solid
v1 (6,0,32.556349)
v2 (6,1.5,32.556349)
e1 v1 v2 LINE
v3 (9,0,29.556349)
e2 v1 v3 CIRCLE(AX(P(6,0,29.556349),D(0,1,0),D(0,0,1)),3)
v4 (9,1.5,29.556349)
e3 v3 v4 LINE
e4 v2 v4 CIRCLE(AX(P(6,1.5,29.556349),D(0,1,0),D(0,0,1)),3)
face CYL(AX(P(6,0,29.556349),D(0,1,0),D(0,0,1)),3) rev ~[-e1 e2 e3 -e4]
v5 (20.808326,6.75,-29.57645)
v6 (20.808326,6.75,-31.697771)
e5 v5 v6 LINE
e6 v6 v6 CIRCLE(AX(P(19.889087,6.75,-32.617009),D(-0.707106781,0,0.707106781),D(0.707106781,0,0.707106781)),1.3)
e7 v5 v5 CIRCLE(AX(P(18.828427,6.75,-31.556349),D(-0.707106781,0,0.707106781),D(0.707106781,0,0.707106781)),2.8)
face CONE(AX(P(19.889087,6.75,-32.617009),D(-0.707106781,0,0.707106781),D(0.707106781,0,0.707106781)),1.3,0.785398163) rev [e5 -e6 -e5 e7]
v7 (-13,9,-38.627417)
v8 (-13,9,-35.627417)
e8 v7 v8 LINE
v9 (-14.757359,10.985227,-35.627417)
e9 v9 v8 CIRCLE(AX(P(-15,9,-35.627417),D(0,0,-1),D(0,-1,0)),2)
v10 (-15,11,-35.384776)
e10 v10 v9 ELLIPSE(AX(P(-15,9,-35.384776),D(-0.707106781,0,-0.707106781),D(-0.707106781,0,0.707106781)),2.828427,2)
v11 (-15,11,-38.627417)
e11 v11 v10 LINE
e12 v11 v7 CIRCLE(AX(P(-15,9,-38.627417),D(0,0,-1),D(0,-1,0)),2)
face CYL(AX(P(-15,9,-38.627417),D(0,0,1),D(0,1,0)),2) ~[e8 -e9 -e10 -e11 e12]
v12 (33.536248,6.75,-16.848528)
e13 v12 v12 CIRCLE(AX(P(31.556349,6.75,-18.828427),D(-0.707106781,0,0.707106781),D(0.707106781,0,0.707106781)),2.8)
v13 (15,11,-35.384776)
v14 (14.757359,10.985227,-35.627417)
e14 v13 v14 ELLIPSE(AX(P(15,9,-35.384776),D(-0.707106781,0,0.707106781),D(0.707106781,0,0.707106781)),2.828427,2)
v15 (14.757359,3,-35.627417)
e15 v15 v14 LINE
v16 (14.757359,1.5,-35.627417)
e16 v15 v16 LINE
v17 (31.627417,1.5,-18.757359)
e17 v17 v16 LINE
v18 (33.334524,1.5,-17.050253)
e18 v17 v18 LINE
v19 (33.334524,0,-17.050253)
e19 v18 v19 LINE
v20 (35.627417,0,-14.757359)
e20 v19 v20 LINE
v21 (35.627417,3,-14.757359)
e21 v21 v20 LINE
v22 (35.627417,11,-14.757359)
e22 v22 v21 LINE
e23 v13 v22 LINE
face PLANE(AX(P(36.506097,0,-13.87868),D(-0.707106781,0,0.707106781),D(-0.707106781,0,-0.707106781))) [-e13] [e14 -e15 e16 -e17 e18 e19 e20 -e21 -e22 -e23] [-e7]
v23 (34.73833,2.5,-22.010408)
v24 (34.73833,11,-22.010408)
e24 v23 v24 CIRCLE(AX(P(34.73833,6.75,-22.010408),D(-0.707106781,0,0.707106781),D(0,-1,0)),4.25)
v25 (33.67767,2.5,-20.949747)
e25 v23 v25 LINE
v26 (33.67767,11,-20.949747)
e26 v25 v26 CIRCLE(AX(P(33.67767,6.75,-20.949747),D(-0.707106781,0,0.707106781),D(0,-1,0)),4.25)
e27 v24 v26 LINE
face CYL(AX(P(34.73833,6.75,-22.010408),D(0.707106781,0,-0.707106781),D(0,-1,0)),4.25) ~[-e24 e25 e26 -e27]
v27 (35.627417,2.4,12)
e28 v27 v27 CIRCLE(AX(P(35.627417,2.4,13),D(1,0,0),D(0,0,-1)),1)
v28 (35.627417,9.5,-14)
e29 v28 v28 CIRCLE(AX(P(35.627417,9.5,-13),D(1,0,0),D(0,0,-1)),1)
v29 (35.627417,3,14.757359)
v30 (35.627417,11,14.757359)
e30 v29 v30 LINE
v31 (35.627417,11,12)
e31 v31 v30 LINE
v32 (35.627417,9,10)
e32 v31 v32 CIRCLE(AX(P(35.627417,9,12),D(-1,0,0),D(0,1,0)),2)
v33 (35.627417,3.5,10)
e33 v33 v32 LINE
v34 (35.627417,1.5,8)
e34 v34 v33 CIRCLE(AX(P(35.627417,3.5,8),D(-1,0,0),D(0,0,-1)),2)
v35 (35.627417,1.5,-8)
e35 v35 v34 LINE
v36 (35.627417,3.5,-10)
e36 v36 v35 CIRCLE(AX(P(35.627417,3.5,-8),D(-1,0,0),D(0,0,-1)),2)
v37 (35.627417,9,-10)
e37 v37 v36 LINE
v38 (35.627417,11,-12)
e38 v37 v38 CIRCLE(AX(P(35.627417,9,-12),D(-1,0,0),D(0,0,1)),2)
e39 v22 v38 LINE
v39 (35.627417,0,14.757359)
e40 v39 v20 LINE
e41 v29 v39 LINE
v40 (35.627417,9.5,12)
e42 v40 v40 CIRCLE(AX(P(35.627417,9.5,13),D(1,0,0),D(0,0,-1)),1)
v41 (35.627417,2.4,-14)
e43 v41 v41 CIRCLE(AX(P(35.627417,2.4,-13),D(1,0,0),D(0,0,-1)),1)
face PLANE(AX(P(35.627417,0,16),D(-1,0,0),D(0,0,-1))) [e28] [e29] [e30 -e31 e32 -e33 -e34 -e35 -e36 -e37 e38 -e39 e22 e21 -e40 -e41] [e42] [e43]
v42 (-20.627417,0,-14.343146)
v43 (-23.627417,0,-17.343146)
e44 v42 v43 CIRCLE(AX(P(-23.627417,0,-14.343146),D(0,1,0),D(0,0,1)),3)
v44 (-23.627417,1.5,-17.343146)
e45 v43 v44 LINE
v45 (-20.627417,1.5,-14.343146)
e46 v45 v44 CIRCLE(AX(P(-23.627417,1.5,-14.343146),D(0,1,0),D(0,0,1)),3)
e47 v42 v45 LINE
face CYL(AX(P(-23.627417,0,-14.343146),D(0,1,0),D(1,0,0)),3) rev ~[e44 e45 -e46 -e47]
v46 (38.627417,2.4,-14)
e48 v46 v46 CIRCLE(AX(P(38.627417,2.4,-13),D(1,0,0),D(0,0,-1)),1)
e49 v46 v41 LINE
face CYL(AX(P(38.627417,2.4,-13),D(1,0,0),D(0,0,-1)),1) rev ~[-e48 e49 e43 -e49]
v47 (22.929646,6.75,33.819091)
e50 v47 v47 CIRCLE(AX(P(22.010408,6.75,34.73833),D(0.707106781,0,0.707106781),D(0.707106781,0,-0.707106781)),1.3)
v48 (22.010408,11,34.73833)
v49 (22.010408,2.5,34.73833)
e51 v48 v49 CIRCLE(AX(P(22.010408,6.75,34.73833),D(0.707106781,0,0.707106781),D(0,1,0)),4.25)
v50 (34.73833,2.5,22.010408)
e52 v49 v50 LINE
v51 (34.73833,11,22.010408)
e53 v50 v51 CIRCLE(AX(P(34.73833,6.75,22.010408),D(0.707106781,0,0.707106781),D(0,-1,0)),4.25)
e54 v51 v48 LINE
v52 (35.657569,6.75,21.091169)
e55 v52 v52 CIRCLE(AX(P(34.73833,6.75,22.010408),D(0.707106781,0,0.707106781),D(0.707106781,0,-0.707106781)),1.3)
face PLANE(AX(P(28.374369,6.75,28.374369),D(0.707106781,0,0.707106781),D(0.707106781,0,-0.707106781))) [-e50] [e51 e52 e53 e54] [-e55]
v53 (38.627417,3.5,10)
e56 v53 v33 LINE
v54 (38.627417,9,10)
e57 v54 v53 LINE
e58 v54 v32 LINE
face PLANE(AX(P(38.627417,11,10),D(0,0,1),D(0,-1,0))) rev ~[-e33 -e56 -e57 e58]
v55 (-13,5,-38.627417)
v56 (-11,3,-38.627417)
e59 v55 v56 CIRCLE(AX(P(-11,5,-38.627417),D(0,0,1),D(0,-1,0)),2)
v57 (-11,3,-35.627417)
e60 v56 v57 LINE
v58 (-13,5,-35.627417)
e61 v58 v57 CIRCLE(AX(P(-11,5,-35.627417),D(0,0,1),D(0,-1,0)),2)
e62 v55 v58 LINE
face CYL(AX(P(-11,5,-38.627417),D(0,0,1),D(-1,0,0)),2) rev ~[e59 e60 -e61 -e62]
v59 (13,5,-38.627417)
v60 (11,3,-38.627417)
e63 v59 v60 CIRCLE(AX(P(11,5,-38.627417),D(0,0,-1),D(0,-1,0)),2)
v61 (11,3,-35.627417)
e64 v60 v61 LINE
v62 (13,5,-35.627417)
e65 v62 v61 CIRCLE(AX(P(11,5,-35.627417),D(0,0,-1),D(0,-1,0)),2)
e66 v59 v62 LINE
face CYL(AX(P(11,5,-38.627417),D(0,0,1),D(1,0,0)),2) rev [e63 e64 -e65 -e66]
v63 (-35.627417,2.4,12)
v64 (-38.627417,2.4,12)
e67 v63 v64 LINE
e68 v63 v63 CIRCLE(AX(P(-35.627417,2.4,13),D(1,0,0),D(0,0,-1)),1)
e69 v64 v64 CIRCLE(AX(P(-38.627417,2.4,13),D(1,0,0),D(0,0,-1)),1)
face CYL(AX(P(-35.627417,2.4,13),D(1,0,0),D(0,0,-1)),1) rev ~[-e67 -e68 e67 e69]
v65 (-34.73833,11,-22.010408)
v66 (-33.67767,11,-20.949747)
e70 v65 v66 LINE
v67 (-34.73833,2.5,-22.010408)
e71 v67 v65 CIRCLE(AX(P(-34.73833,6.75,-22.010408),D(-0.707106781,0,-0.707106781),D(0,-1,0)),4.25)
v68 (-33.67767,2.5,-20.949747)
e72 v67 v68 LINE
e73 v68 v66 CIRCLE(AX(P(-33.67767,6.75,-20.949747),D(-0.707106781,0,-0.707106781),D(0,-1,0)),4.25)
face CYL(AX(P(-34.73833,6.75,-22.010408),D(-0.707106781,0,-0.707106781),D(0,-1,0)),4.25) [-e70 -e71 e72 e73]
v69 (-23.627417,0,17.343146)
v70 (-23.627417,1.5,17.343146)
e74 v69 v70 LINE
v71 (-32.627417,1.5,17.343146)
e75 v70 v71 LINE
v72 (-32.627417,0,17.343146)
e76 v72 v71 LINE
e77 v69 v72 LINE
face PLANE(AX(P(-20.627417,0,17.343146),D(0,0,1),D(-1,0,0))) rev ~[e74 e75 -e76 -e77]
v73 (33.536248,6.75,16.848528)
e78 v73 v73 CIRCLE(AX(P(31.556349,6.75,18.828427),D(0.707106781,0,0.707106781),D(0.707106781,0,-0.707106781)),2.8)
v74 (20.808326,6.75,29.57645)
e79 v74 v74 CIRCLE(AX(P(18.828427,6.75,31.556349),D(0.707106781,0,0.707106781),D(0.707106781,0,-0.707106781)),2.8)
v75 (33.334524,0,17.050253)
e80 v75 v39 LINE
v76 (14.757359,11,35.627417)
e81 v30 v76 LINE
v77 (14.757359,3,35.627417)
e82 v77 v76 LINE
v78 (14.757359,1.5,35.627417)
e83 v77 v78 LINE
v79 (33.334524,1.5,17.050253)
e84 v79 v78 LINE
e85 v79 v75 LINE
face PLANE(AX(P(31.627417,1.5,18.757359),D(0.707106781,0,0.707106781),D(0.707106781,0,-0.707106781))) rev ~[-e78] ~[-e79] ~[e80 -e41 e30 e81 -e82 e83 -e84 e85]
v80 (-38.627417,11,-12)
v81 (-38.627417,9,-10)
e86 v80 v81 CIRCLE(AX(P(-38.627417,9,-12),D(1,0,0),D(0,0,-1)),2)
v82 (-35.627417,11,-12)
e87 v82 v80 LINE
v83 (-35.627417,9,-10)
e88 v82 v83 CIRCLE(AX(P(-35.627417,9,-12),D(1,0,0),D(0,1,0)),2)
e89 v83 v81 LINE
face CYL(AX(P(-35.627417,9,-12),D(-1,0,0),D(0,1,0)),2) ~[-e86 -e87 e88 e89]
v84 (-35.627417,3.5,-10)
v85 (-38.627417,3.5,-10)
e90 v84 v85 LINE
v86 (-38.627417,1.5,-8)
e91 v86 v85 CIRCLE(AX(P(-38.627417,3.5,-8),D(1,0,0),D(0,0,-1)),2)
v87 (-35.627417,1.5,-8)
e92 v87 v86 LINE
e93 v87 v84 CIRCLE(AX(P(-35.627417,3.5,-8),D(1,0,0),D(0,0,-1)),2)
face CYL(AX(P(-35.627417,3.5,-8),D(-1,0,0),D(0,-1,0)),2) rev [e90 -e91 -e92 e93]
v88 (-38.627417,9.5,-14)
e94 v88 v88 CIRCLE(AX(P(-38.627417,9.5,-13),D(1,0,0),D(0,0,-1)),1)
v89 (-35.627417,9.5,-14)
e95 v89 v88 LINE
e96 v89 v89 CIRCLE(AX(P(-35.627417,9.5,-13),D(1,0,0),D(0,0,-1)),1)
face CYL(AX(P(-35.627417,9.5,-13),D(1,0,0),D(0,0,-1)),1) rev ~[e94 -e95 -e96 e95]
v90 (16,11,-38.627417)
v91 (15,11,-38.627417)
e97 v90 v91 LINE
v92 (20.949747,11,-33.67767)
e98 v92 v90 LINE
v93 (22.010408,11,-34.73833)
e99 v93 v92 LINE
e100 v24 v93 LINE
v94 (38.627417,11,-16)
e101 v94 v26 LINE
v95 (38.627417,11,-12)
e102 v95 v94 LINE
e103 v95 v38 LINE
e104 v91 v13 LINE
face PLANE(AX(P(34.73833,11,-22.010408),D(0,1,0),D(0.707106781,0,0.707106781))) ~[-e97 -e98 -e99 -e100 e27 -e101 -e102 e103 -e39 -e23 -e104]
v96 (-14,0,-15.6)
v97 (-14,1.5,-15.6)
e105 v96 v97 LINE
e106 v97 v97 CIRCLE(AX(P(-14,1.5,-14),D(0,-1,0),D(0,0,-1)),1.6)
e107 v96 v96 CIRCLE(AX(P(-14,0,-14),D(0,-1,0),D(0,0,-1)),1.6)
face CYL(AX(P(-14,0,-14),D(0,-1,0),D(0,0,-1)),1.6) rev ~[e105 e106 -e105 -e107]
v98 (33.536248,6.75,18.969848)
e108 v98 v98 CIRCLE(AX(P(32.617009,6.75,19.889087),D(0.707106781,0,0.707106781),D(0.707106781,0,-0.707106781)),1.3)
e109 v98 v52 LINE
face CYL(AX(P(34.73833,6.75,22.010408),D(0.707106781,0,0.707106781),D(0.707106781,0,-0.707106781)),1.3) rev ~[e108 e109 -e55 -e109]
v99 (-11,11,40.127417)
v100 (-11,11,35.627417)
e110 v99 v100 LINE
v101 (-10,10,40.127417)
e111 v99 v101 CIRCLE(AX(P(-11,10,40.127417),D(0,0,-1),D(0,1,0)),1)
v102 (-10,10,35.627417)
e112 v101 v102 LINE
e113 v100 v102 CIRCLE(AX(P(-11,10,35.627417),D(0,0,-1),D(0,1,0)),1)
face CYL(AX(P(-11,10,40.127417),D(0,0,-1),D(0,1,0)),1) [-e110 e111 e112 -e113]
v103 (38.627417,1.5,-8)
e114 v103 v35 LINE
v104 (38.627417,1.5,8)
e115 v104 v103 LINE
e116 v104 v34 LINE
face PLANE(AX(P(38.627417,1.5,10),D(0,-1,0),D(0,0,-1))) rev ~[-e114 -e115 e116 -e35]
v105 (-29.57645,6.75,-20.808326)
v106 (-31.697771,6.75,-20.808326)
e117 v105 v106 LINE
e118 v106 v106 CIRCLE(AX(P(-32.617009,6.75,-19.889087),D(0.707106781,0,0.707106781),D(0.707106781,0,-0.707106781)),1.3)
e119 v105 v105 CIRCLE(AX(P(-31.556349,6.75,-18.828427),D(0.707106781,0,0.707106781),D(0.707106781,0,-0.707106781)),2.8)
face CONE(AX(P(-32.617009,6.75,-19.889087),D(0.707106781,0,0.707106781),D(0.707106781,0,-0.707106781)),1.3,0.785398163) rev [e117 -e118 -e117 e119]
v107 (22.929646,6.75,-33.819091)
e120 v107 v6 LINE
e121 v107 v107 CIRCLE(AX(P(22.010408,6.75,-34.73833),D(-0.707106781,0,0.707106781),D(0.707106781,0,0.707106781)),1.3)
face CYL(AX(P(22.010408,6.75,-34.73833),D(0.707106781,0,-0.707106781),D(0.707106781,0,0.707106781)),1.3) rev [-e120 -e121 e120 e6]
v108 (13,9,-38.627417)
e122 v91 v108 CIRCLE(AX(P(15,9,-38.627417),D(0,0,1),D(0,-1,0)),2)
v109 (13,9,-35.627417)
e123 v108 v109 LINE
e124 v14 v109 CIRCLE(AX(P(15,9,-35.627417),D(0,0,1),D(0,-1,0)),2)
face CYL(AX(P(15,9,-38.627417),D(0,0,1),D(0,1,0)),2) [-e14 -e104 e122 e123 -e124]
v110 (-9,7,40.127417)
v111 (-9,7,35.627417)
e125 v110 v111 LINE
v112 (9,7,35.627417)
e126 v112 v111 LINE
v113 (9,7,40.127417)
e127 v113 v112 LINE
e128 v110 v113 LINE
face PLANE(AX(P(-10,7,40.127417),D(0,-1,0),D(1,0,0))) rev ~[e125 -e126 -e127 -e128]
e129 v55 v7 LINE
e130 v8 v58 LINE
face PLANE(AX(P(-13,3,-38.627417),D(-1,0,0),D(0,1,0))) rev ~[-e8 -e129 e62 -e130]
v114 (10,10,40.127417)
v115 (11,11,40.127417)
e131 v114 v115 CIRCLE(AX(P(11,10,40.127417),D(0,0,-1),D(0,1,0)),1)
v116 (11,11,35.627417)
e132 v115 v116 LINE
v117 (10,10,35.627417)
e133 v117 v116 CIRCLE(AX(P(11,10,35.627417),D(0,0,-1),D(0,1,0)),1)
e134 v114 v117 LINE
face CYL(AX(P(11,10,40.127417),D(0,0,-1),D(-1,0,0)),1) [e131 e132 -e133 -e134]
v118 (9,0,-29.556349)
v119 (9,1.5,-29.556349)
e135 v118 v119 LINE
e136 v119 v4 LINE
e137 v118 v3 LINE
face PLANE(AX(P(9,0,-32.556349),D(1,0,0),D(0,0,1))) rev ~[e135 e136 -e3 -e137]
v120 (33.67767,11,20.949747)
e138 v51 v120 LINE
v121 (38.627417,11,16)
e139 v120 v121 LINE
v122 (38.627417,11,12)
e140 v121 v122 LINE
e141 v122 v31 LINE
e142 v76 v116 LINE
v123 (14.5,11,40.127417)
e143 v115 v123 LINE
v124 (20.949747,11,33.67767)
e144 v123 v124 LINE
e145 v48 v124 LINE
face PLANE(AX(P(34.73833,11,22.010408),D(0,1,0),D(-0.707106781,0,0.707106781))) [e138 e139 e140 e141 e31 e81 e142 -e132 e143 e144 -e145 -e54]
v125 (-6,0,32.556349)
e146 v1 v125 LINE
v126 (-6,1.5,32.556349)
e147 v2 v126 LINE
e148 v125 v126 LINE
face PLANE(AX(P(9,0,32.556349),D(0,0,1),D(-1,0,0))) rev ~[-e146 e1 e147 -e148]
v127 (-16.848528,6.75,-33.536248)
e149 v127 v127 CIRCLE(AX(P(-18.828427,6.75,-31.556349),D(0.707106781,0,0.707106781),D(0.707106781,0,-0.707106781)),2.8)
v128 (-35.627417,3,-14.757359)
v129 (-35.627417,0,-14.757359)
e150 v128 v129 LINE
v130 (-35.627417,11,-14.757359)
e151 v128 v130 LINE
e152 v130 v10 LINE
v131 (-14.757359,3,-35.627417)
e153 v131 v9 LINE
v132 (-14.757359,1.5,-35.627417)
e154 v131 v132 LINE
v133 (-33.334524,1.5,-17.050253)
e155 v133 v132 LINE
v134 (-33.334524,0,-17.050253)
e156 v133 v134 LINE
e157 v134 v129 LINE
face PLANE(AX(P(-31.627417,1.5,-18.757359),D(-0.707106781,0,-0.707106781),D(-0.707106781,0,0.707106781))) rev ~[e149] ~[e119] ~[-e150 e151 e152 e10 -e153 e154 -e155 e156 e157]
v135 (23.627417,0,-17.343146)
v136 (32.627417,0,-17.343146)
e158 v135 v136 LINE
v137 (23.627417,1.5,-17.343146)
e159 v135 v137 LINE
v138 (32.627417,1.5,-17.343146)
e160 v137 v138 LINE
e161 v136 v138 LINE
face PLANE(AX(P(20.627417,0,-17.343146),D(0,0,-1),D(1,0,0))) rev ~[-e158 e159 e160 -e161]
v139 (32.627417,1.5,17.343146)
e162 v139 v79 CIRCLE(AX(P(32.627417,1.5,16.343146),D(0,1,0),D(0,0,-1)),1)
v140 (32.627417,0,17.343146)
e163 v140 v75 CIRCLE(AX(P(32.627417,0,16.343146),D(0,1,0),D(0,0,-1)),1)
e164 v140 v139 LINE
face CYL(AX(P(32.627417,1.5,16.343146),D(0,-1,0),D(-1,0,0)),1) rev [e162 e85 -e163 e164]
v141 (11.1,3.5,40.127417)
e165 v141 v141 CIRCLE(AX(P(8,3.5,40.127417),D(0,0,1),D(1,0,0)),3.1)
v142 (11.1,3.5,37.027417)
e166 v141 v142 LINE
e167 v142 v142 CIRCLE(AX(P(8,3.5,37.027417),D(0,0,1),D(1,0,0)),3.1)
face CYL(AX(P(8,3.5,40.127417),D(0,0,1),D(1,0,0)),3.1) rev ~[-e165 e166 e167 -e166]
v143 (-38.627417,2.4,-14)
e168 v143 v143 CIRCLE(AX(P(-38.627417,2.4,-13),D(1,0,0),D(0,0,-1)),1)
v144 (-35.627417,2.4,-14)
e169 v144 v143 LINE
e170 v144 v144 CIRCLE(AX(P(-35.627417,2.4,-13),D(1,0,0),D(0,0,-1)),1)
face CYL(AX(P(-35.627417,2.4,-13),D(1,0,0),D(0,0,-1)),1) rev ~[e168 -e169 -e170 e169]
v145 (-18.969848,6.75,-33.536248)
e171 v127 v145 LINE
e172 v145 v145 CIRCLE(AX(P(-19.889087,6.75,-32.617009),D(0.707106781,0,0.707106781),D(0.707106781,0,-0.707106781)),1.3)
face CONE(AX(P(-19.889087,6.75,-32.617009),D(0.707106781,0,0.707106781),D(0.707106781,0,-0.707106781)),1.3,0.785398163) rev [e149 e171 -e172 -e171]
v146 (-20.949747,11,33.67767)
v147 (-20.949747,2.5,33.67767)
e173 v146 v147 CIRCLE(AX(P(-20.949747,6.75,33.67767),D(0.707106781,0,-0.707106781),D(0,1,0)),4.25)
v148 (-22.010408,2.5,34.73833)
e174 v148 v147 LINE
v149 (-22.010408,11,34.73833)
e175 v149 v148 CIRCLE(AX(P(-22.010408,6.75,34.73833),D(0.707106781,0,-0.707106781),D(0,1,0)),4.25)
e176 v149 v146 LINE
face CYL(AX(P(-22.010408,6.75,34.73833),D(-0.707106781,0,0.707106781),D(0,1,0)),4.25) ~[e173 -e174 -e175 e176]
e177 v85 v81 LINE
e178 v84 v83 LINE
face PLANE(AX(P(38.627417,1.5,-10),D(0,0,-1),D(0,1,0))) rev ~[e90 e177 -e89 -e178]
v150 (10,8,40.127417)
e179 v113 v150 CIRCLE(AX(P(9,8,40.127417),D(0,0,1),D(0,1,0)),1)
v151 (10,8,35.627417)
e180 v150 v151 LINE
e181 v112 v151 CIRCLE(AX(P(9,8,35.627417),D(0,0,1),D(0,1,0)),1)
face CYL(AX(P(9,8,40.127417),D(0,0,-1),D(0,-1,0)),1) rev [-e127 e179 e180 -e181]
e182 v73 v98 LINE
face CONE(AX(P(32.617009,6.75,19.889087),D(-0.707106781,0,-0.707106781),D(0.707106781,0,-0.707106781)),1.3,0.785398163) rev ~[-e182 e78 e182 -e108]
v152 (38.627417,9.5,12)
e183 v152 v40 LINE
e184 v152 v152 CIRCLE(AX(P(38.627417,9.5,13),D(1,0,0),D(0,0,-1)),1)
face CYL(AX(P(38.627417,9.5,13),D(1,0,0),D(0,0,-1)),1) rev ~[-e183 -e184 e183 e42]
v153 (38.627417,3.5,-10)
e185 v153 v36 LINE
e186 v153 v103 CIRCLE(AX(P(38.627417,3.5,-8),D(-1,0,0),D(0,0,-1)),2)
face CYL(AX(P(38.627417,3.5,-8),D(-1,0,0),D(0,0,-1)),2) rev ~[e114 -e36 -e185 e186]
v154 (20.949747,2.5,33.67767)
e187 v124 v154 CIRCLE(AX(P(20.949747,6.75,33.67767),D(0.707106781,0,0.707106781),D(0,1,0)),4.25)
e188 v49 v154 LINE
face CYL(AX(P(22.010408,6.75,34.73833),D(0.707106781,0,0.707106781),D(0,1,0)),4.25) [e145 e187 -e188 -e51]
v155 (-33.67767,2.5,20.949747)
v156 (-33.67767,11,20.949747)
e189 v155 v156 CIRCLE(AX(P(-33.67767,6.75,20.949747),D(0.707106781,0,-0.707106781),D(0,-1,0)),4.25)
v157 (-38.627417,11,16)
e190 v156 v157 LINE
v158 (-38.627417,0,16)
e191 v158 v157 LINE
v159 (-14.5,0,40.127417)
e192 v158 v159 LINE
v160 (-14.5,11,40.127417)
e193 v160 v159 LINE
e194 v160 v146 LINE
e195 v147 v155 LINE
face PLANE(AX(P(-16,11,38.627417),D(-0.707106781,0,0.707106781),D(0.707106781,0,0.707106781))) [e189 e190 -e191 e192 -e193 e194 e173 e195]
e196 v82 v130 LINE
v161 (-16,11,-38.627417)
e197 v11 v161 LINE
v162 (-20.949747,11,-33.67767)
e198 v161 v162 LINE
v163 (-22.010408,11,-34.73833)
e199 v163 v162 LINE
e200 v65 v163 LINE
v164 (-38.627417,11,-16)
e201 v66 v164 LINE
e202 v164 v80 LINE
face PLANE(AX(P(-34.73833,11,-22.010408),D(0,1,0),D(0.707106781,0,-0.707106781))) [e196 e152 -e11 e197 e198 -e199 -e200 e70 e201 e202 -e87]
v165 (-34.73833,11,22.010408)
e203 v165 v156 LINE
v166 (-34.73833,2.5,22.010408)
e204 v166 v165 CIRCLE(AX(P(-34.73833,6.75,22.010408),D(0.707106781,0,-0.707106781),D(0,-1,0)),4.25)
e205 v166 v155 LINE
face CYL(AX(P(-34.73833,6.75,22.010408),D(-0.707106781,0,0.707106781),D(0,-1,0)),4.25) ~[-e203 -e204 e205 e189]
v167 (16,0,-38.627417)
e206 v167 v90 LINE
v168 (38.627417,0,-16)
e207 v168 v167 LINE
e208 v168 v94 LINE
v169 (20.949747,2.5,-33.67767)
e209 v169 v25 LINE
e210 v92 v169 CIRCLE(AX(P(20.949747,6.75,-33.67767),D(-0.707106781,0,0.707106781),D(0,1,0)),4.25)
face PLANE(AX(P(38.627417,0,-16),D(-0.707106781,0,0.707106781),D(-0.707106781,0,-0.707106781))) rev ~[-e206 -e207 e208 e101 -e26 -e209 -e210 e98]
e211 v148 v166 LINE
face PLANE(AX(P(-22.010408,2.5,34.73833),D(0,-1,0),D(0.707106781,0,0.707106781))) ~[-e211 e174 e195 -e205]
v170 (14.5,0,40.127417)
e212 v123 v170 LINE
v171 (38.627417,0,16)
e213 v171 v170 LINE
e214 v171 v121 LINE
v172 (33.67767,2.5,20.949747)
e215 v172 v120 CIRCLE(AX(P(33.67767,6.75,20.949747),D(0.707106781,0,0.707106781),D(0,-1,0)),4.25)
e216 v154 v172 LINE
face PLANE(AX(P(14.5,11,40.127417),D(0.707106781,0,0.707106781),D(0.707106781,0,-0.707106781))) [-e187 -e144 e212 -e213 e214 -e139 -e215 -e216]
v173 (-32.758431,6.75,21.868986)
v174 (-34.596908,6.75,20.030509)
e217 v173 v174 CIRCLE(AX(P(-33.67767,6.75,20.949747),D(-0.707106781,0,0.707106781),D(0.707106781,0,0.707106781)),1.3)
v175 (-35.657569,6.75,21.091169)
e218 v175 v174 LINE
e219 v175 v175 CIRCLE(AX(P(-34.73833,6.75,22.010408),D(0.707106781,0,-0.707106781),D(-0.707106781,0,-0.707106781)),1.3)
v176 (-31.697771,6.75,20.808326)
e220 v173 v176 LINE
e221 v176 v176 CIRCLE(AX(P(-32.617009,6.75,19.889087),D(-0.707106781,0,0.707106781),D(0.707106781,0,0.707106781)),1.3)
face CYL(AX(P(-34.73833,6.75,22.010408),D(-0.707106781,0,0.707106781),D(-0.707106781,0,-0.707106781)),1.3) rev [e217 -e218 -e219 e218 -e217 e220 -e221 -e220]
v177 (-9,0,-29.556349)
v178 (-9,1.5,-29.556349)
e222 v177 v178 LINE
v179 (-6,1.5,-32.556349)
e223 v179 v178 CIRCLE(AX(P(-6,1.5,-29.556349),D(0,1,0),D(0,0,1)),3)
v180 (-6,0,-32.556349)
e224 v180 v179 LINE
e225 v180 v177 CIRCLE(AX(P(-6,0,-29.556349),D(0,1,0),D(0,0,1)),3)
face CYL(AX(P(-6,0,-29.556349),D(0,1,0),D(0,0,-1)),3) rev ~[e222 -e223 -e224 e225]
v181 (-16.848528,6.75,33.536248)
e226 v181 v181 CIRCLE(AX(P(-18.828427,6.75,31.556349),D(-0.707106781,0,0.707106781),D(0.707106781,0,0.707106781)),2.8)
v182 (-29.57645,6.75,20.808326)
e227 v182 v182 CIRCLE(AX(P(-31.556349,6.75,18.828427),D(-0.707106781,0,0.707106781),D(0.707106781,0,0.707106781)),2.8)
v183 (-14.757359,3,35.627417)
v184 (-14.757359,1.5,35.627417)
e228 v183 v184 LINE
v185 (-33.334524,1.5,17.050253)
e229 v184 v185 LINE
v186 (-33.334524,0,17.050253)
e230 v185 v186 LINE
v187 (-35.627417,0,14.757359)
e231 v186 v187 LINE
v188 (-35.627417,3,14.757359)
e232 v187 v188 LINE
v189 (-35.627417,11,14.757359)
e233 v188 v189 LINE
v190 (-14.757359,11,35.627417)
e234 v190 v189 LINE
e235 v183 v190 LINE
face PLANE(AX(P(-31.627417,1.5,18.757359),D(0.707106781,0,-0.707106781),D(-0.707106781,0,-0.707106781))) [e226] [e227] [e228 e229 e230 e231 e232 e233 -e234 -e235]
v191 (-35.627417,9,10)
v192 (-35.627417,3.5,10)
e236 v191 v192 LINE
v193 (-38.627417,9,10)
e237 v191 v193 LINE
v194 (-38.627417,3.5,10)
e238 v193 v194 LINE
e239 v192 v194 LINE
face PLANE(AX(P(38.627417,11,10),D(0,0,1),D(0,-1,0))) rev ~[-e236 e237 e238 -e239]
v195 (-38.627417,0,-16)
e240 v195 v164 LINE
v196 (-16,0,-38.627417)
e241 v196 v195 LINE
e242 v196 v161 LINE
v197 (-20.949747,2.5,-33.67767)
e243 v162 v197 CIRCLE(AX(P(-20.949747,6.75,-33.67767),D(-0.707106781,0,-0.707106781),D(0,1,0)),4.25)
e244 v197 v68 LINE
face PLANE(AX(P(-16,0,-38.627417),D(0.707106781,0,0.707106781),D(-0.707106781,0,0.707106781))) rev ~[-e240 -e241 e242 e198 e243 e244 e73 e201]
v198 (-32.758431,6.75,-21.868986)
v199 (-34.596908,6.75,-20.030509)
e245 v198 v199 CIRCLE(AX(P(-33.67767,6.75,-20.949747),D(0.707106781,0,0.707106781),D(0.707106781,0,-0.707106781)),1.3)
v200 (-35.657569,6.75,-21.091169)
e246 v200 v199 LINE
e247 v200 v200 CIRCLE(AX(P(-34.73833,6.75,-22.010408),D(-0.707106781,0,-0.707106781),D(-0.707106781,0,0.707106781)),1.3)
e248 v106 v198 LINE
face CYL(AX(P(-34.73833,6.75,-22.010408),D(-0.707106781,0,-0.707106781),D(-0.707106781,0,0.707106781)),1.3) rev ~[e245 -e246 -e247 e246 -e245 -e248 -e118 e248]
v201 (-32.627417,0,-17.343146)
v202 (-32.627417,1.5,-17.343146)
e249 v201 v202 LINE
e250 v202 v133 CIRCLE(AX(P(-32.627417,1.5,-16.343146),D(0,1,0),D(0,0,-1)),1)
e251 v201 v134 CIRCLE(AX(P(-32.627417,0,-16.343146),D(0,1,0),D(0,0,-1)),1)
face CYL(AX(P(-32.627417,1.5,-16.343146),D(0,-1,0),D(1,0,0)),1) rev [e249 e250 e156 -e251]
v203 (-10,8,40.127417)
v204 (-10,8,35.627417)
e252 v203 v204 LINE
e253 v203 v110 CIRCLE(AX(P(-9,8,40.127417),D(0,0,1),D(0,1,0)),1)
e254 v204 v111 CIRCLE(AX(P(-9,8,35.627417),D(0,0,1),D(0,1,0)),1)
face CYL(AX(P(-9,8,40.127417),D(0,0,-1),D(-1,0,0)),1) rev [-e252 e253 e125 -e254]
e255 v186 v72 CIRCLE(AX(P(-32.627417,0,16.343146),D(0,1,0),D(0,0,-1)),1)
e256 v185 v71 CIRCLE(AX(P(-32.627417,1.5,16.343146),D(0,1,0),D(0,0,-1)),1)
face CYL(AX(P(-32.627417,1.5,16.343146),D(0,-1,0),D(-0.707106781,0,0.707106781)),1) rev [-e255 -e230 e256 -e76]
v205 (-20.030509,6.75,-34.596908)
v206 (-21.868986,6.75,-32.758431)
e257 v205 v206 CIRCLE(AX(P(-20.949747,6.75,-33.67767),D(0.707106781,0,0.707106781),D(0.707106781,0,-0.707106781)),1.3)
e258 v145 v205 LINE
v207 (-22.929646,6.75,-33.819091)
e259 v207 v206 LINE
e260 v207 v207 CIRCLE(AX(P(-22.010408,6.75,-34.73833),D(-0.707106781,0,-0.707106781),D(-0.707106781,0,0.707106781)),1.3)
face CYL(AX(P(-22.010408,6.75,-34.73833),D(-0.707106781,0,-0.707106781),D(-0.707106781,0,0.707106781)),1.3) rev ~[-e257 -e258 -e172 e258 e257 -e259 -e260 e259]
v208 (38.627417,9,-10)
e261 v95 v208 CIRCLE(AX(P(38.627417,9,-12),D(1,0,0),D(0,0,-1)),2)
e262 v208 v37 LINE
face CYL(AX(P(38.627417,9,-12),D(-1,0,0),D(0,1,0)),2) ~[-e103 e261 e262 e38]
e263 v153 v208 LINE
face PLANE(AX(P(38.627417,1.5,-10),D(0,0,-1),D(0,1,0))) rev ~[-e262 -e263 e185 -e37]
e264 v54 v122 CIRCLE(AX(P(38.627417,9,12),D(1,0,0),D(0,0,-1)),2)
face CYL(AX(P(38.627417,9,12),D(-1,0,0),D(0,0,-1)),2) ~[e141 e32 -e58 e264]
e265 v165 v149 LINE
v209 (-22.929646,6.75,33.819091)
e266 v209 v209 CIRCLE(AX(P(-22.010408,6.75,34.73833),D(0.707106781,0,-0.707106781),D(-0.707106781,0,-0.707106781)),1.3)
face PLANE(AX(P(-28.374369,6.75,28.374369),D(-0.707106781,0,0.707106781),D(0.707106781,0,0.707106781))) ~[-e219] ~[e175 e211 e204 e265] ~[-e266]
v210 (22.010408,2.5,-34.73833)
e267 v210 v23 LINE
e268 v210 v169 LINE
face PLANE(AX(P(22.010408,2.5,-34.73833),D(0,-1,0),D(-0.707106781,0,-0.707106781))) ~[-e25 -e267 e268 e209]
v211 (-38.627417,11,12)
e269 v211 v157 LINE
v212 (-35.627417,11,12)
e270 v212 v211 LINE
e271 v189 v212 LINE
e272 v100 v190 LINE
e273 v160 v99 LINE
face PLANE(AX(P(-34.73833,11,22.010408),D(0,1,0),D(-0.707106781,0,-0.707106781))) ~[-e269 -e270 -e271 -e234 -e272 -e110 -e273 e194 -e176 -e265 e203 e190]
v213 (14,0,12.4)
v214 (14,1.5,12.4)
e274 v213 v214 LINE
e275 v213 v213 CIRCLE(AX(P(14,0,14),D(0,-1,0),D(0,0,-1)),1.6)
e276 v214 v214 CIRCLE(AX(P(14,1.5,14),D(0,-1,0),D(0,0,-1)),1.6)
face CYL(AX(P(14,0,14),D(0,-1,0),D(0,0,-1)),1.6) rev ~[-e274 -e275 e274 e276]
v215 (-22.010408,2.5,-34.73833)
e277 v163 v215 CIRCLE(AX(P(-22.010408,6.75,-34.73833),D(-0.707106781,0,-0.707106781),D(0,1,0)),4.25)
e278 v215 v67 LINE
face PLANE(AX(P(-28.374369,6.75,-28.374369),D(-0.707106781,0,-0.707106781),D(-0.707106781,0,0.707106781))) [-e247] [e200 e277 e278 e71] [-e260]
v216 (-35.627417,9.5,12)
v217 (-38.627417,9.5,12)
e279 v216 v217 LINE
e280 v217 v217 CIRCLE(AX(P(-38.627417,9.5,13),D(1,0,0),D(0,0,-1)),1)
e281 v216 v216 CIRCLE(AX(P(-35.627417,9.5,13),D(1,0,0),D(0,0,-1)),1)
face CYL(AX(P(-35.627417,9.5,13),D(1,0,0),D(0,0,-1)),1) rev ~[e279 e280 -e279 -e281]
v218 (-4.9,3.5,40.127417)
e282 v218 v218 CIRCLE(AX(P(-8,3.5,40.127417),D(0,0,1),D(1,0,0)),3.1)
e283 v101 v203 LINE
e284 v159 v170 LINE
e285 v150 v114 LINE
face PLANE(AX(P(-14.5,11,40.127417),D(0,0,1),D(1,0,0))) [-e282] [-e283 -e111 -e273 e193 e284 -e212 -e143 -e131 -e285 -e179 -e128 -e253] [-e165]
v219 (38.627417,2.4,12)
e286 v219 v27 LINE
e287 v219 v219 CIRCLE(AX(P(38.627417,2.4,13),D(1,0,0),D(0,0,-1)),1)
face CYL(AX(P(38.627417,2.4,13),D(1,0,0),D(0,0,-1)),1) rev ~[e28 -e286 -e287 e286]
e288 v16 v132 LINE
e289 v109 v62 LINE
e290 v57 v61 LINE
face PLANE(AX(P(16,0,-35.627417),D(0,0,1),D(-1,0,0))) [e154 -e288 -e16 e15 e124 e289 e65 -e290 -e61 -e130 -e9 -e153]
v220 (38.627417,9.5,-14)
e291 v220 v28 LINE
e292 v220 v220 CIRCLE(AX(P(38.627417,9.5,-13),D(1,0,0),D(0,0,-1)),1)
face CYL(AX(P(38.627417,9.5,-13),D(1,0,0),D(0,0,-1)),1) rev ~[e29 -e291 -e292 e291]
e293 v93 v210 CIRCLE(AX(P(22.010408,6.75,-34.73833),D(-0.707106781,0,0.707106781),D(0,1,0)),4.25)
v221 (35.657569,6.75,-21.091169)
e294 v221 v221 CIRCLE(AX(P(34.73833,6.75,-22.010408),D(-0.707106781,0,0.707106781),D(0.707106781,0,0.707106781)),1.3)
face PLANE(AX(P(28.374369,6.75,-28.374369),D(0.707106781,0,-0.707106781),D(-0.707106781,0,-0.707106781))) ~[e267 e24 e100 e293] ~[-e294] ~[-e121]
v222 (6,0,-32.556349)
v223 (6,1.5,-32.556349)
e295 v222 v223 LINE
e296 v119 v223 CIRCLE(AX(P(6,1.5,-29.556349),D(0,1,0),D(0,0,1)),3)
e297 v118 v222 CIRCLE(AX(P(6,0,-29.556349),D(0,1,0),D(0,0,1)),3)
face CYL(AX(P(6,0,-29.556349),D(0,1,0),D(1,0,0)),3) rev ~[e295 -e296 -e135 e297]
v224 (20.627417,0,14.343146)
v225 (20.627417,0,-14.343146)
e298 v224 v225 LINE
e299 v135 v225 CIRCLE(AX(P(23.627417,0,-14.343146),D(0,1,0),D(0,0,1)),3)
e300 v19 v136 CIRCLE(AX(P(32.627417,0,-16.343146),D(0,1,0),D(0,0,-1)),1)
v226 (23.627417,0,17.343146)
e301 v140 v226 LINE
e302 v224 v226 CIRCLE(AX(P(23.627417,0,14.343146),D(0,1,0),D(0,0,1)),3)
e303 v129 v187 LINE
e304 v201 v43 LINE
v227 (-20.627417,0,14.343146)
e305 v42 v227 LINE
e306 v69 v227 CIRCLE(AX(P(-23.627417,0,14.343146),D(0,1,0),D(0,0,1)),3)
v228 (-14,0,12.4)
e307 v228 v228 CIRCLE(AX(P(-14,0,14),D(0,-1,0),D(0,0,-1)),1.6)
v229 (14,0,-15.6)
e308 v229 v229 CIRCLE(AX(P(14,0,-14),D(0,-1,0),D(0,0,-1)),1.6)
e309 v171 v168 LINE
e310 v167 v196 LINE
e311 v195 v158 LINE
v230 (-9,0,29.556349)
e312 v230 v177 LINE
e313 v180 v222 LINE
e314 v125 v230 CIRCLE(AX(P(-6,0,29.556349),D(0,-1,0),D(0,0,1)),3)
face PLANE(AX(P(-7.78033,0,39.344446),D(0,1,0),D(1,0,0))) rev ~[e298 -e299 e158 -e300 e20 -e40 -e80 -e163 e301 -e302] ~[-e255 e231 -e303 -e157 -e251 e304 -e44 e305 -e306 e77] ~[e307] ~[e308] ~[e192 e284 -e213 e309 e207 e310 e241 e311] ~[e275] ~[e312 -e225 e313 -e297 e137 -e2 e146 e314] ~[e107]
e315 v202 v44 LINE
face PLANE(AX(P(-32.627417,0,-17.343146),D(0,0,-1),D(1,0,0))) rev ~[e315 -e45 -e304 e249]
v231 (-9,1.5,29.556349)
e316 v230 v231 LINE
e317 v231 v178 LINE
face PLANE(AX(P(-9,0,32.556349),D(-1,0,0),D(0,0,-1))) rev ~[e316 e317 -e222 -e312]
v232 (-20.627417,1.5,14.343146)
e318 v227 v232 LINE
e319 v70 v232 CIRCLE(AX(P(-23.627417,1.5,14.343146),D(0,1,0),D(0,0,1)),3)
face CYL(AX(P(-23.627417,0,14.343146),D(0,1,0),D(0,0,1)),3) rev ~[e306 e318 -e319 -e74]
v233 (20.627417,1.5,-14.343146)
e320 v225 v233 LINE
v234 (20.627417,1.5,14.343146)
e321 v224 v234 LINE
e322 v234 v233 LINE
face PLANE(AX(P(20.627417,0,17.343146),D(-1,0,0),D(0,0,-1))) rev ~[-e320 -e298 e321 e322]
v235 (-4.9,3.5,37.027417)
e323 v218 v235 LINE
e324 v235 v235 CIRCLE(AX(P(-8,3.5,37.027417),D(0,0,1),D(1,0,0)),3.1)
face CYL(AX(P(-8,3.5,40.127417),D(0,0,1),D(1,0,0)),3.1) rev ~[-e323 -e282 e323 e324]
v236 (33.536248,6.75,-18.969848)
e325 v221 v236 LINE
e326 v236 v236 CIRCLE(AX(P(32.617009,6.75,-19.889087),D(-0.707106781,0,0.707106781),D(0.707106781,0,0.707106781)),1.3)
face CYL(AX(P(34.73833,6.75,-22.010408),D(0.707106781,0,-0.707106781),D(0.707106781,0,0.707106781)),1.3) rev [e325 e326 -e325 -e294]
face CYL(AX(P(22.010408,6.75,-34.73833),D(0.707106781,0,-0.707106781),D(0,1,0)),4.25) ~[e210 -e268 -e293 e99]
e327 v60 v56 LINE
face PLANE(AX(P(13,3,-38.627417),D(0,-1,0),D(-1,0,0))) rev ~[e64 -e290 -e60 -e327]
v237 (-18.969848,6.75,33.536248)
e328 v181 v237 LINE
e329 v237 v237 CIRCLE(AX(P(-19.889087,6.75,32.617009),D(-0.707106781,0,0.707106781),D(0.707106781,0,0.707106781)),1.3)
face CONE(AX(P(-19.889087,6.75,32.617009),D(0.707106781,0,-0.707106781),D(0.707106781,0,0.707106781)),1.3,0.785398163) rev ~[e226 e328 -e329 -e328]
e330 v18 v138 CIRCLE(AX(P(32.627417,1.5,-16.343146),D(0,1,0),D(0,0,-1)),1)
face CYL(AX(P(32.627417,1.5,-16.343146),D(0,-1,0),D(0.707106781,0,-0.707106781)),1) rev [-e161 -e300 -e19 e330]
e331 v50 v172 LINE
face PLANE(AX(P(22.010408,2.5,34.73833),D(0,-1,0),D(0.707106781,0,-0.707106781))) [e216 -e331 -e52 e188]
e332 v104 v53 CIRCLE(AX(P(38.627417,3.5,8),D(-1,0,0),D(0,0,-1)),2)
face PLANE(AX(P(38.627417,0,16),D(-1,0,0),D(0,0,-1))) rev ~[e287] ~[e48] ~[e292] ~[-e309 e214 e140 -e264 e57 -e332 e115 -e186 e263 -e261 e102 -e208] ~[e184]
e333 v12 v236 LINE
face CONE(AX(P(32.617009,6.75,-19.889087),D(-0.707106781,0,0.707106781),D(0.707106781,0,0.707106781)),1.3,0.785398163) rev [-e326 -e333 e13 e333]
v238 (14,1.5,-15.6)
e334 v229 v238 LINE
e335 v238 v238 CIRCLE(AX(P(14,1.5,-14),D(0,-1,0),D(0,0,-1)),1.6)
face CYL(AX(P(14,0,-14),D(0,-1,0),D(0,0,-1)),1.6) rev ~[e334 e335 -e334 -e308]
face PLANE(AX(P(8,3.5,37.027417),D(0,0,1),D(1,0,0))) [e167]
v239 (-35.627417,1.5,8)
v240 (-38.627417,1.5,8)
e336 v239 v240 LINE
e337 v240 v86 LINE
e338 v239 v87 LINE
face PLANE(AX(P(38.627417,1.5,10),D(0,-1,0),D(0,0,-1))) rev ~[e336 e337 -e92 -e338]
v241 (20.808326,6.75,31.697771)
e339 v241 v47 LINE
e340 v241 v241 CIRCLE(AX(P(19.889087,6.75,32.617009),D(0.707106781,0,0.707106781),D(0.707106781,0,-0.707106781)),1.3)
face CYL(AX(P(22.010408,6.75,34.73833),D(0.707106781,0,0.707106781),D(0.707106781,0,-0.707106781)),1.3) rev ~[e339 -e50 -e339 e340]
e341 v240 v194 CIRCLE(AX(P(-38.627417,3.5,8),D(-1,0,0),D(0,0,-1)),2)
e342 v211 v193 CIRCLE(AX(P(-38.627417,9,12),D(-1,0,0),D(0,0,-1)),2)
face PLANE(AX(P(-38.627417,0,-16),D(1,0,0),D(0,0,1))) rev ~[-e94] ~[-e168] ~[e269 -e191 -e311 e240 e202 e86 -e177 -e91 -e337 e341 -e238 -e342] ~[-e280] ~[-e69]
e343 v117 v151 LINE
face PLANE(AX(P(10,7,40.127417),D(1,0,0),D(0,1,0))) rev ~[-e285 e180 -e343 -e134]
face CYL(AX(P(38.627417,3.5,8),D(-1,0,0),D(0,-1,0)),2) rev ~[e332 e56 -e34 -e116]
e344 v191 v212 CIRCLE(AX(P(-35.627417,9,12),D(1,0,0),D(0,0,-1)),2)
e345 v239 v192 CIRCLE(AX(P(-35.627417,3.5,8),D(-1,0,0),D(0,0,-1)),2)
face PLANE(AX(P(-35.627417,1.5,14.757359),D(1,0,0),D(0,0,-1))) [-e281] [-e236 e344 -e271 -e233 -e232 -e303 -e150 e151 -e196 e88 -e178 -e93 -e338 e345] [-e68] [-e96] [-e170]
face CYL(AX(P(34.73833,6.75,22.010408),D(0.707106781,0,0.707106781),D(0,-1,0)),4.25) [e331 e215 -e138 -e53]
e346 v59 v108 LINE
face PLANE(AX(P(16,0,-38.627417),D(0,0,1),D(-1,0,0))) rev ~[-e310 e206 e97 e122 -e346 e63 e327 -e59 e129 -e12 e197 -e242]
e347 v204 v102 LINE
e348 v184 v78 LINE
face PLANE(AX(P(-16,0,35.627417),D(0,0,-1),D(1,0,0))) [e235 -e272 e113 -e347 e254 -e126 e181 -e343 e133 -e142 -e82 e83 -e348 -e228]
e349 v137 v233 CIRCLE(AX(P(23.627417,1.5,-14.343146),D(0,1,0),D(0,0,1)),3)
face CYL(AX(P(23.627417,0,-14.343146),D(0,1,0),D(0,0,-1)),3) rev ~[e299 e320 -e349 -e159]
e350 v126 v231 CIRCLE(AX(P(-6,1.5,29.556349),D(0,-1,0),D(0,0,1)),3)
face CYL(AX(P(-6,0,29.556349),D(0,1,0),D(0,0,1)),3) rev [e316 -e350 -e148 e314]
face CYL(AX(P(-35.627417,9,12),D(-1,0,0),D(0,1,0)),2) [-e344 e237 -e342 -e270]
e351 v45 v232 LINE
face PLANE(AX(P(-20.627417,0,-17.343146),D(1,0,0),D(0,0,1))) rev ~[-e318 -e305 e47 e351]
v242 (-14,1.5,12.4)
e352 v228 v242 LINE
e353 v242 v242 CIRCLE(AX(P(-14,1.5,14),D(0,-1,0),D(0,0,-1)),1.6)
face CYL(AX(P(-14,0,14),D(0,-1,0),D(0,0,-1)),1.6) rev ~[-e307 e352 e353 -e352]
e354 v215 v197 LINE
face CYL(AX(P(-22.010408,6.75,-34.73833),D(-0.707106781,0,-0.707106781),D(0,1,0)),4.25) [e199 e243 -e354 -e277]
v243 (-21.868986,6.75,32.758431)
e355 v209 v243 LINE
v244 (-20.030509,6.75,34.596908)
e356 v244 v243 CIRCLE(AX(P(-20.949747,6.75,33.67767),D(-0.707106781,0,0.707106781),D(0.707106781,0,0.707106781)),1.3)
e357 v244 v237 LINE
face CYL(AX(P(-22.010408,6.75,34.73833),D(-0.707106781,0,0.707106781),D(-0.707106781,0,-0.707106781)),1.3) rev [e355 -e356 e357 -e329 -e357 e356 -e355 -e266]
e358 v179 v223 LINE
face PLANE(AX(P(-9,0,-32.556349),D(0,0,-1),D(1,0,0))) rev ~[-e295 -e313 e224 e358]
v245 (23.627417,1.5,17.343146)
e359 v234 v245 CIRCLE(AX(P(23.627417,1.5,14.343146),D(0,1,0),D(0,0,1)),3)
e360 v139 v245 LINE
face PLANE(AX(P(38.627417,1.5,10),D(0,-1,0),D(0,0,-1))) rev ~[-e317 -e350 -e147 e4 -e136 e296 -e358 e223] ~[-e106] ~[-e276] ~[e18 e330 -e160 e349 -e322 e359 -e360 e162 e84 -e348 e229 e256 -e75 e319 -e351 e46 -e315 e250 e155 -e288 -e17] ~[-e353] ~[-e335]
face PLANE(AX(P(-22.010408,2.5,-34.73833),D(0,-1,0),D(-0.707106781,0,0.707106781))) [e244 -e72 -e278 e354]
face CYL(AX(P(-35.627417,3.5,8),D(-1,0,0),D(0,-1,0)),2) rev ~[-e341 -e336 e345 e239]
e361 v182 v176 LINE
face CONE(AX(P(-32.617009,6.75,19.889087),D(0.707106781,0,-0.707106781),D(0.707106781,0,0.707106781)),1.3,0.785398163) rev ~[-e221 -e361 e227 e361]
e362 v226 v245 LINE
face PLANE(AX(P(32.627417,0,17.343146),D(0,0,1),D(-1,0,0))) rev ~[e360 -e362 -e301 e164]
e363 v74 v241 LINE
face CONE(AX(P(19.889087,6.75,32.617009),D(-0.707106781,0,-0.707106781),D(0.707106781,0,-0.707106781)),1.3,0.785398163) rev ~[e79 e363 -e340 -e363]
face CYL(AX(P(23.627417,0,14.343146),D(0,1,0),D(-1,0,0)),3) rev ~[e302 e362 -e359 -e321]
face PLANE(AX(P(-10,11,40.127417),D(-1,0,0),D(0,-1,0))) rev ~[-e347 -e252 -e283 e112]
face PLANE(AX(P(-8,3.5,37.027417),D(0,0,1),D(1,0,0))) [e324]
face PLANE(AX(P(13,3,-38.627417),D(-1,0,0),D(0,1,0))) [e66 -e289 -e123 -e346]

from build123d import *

# Parameters (mm, degrees)
BOSS_EXTRUDE1_DEPTH                        = 11
SHELL1_T                                   = -3
SHELL1_THICKNESS_2_DEPTH                   = 1.5
SKETCH2_R                                  = 1.3
CUT_EXTRUDE1_DEPTH                         = 152
SKETCH3_R                                  = 1.3
CUT_EXTRUDE2_DEPTH                         = 152
CUT_EXTRUDE3_DEPTH                         = 152
SKETCH5_W                                  = 13
SKETCH5_H                                  = 8
CUT_EXTRUDE4_DEPTH                         = 45
FILLET1_R                                  = 2
CUT_EXTRUDE6_DEPTH                         = 92
SKETCH6_R                                  = 1
CUT_EXTRUDE7_DEPTH                         = 5
SKETCH12_R                                 = 1
CUT_EXTRUDE8_DEPTH                         = 5
FILLET2_R                                  = 1
BOSS_EXTRUDE2_DEPTH                        = 11
SKETCH14_R                                 = 3.1
CUT_EXTRUDE9_DEPTH                         = 3.1
CUT_EXTRUDE10_DEPTH                        = 9.1
FILLET3_R                                  = 1
SKETCH19_R                                 = 1.6
CUT_EXTRUDE12_DEPTH                        = 10
FILLET4_R                                  = 3
CHAMFER1_SIZE                              = 1.5
BOSS_EXTRUDE3_START                        = 1.5
SKETCH20_R                                 = 1.3
BOSS_EXTRUDE3_DEPTH                        = 1.5
MIRROR1_START                              = 1.5
MIRROR1_AT_THE_SECOND_PLANE_COPY_1_SKETC_R = 1.3
MIRROR1_AT_THE_SECOND_PLANE_COPY_1_DEPTH   = 1.5


with BuildPart() as part:
    # Sketch1 → Boss-Extrude1 (new body)
    with BuildSketch(Plane(origin=(0, 0, 0), x_dir=(1, 0, 0), z_dir=(0, 1, 0))):
        Polygon((38.627416998, 16), (16, 38.627416998), (-16, 38.627416998), (-38.627416998, 16), (-38.627416998, -16), (-16, -38.627416998), (16, -38.627416998), (38.627416998, -16), align=None)
    extrude(amount=BOSS_EXTRUDE1_DEPTH)

    # Shell1
    shell1_openings = [part.faces().sort_by_distance(p)[0] for p in [
        (0, 11, 0),
    ]]
    offset(amount=SHELL1_T, openings=shell1_openings, kind=Kind.INTERSECTION)

    # Shell1 thickness 2 face (on inner face of the shell) → Shell1 thickness 2 (cut)
    with BuildSketch(Plane(origin=(0, 3, 0), x_dir=(0, 0, -1), z_dir=(0, -1, 0))):
        Polygon((-14.757359313, 35.627416998), (14.757359313, 35.627416998), (35.627416998, 14.757359313), (35.627416998, -14.757359313), (14.757359313, -35.627416998), (-14.757359313, -35.627416998), (-35.627416998, -14.757359313), (-35.627416998, 14.757359313), align=None)
    extrude(amount=SHELL1_THICKNESS_2_DEPTH, mode=Mode.SUBTRACT)

    # Sketch2 → Cut-Extrude1 (cut)
    with BuildSketch(Plane(origin=(27.313708499, 0, 27.313708499), x_dir=(0.7071067811865475, 0, -0.7071067811865477), z_dir=(0.7071067811865477, 0, 0.7071067811865475))):
        with Locations((9, 6.75)):
            Circle(SKETCH2_R)
        with Locations((-9, 6.75)):
            Circle(SKETCH2_R)
    extrude(amount=-CUT_EXTRUDE1_DEPTH, mode=Mode.SUBTRACT)

    # Sketch3 → Cut-Extrude2 (cut)
    with BuildSketch(Plane(origin=(-27.313708499, 0, 27.313708499), x_dir=(0.7071067811865476, 0, 0.7071067811865476), z_dir=(-0.7071067811865476, 0, 0.7071067811865476))):
        with Locations((9, 6.75)):
            Circle(SKETCH3_R)
        with Locations((-9, 6.75)):
            Circle(SKETCH3_R)
    extrude(amount=-CUT_EXTRUDE2_DEPTH, mode=Mode.SUBTRACT)

    # Sketch4 → Cut-Extrude3 (cut)
    with BuildSketch(Plane(origin=(38.627416998, 0, 0), x_dir=(0, 0, -1), z_dir=(1, 0, 0))):
        Polygon((0, 1.5), (10, 1.5), (10, 11), (0, 11), (-10, 11), (-10, 1.5), align=None)
    extrude(amount=-CUT_EXTRUDE3_DEPTH, mode=Mode.SUBTRACT)

    # Sketch5 → Cut-Extrude4 (cut)
    with BuildSketch(Plane(origin=(0, 0, -38.627416998), x_dir=(-1, 0, 0), z_dir=(0, 0, -1))):
        with Locations((-6.5, 7)):
            Rectangle(SKETCH5_W, SKETCH5_H)
        with Locations((6.5, 7)):
            Rectangle(SKETCH5_W, SKETCH5_H)
    extrude(amount=-CUT_EXTRUDE4_DEPTH, mode=Mode.SUBTRACT)

    # Fillet1
    fillet1_edges = [part.edges().sort_by_distance(p)[0] for p in [
        (-13, 11, -37.127416998),
        (-13, 3, -37.127416998),
        (13, 11, -37.127416998),
        (13, 3, -37.127416998),
        (37.127416998, 11, 10),
        (37.127416998, 1.5, 10),
        (37.127416998, 11, -10),
        (37.127416998, 1.5, -10),
        (-37.127416998, 11, -10),
        (-37.127416998, 1.5, -10),
        (-37.127416998, 11, 10),
        (-37.127416998, 1.5, 10),
    ]]
    fillet(fillet1_edges, radius=FILLET1_R)

    # Sketch7 → Cut-Extrude6 (cut)
    with BuildSketch(Plane(origin=(0, 1.5, 0), x_dir=(1, 0, 0), z_dir=(0, 1, 0))):
        Polygon((35.627416998, -10.000000003), (31.627416998, -10.000000003), (31.627416998, -18.757359313), (35.627416998, -14.757359313), align=None)
        Polygon((35.627416998, 14.757359313), (35.627416998, 10.000000003), (31.627416998, 10.000000003), (31.627416998, 18.757359313), align=None)
        Polygon((-35.627416998, 10.000000003), (-31.627416998, 10.000000003), (-31.627416998, 18.757359313), (-35.627416998, 14.757359313), align=None)
        Polygon((-35.627416998, -14.757359313), (-35.627416998, -10.000000003), (-31.627416998, -10.000000003), (-31.627416998, -18.757359313), align=None)
    extrude(amount=-CUT_EXTRUDE6_DEPTH, mode=Mode.SUBTRACT)

    # Sketch6 → Cut-Extrude7 (cut)
    with BuildSketch(Plane(origin=(38.627416998, 0, 0), x_dir=(0, 0, -1), z_dir=(1, 0, 0))):
        with Locations((-13, 9.5)):
            Circle(SKETCH6_R)
        with Locations((-13, 2.4)):
            Circle(SKETCH6_R)
        with Locations((13, 2.4)):
            Circle(SKETCH6_R)
        with Locations((13, 9.5)):
            Circle(SKETCH6_R)
    extrude(amount=-CUT_EXTRUDE7_DEPTH, mode=Mode.SUBTRACT)

    # Sketch12 → Cut-Extrude8 (cut)
    with BuildSketch(Plane(origin=(-35.627416998, 0, 0), x_dir=(0, 0, -1), z_dir=(1, 0, 0))):
        with Locations((-13, 9.5)):
            Circle(SKETCH12_R)
        with Locations((-13, 2.4)):
            Circle(SKETCH12_R)
        with Locations((13, 2.4)):
            Circle(SKETCH12_R)
        with Locations((13, 9.5)):
            Circle(SKETCH12_R)
    extrude(amount=-CUT_EXTRUDE8_DEPTH, mode=Mode.SUBTRACT)

    # Fillet2
    fillet2_edges = [part.edges().sort_by_distance(p)[0] for p in [
        (-31.627416998, 0.75, 10.000000003),
        (-31.627416998, 0.75, 18.757359313),
        (-35.627416998, 0.75, 10.000000003),
        (35.627416998, 0.75, -10.000000003),
        (31.627416998, 0.75, -10.000000003),
        (31.627416998, 0.75, -18.757359313),
        (31.627416998, 0.75, 10.000000003),
        (35.627416998, 0.75, 10.000000003),
        (31.627416998, 0.75, 18.757359313),
        (-31.627416998, 0.75, -10.000000003),
        (-35.627416998, 0.75, -10.000000003),
        (-31.627416998, 0.75, -18.757359313),
    ]]
    fillet(fillet2_edges, radius=FILLET2_R)

    # Sketch13 → Boss-Extrude2 (add)
    with BuildSketch(Plane(origin=(0, 11, 0), x_dir=(1, 0, 0), z_dir=(0, 1, 0))):
        Polygon((0, -38.627416998), (-16, -38.627416998), (-14.5, -40.127416998), (0, -40.127416998), align=None)
        Polygon((16, -38.627416998), (0, -38.627416998), (0, -40.127416998), (14.5, -40.127416998), align=None)
    extrude(amount=-BOSS_EXTRUDE2_DEPTH)

    # Sketch14 → Cut-Extrude9 (cut)
    with BuildSketch(Plane.XY.offset(40.127416998)):
        with Locations((8, 3.5)):
            Circle(SKETCH14_R)
        with Locations((-8, 3.5)):
            Circle(SKETCH14_R)
    extrude(amount=-CUT_EXTRUDE9_DEPTH, mode=Mode.SUBTRACT)

    # Sketch18 → Cut-Extrude10 (cut)
    with BuildSketch(Plane.XY.offset(40.127416998)):
        Polygon((-10, 7), (0, 7), (10, 7), (10, 11), (-10, 11), align=None)
    extrude(amount=-CUT_EXTRUDE10_DEPTH, mode=Mode.SUBTRACT)

    # Fillet3
    fillet3_edges = [part.edges().sort_by_distance(p)[0] for p in [
        (-10, 7, 37.877416998),
        (-10, 11, 37.877416998),
        (10, 11, 37.877416998),
        (10, 7, 37.877416998),
    ]]
    fillet(fillet3_edges, radius=FILLET3_R)

    # Sketch19 → Cut-Extrude12 (cut)
    with BuildSketch(Plane(origin=(0, 0, 0), x_dir=(-1, 0, 0), z_dir=(0, -1, 0))):
        Polygon((9, -32.556349186), (9, 32.556349186), (-9, 32.556349186), (-9, -14), (-9, -32.556349186), align=None)
        with Locations(Location((-14, -14, 0), (0, 0, 90))):
            Circle(SKETCH19_R)
        Polygon((-20.627416998, -17.343145751), (-20.627416998, 17.343145751), (-32.627416998, 17.343145751), (-32.627416998, 11.000000003), (-35.627416998, 11.000000003), (-35.627416998, -11.000000003), (-32.627416998, -11), (-32.627416998, -17.343145751), align=None)
        Polygon((35.627416998, -11.000000003), (35.627416998, 11.000000003), (32.627416998, 11.000000003), (32.627416998, 17.343145751), (20.627416998, 17.343145751), (20.627416998, -17.343145751), (32.627416998, -17.343145751), (32.627416998, -11), align=None)
        with Locations(Location((14, -14, 0), (0, 0, 90))):
            Circle(SKETCH19_R)
        with Locations(Location((-14, 14, 0), (0, 0, 90))):
            Circle(SKETCH19_R)
        with Locations(Location((14, 14, 0), (0, 0, 90))):
            Circle(SKETCH19_R)
    extrude(amount=-CUT_EXTRUDE12_DEPTH, mode=Mode.SUBTRACT)

    # Fillet4
    fillet4_edges = [part.edges().sort_by_distance(p)[0] for p in [
        (-20.627416998, 0.75, 17.343145751),
        (-20.627416998, 0.75, -17.343145751),
        (20.627416998, 0.75, -17.343145751),
        (20.627416998, 0.75, 17.343145751),
        (-9, 0.75, 32.556349186),
        (9, 0.75, 32.556349186),
        (9, 0.75, -32.556349186),
        (-9, 0.75, -32.556349186),
    ]]
    fillet(fillet4_edges, radius=FILLET4_R)

    # Chamfer1
    chamfer1_edges = [part.edges().sort_by_distance(p)[0] for p in [
        (17.909188309, 6.75, 32.475588002),
        (-32.475588002, 6.75, -17.909188309),
        (30.637110371, 6.75, 19.74766594),
        (-19.74766594, 6.75, -30.637110371),
        (-19.74766594, 6.75, 30.637110371),
        (30.637110371, 6.75, -19.74766594),
        (-32.475588002, 6.75, 17.909188309),
        (17.909188309, 6.75, -32.475588002),
    ]]
    chamfer(chamfer1_edges, length=CHAMFER1_SIZE)

    # Sketch20 → Boss-Extrude3 (add)
    with BuildSketch(Plane(origin=(27.313708499, 0, 27.313708499), x_dir=(0.7071067811865475, 0, -0.7071067811865477), z_dir=(0.7071067811865477, 0, 0.7071067811865475)).offset(BOSS_EXTRUDE3_START)):
        with BuildLine():
            Line((-9, 2.5), (9, 2.5))
            ThreePointArc((9, 2.5), (13.25, 6.75), (9, 11))
            Line((9, 11), (-9, 11))
            ThreePointArc((-9, 11), (-13.25, 6.75), (-9, 2.5))
        make_face()
        with Locations((-9, 6.75)):
            Circle(SKETCH20_R, mode=Mode.SUBTRACT)
        with Locations((9, 6.75)):
            Circle(SKETCH20_R, mode=Mode.SUBTRACT)
    boss_extrude3 = extrude(amount=-BOSS_EXTRUDE3_DEPTH)

    # Mirror1: Boss-Extrude3 across plane
    add(boss_extrude3.mirror(Plane(origin=(0, 0, 0), x_dir=(0, 0, 1), z_dir=(1, 0, 0))))

    # Mirror1 at the second plane: Boss-Extrude3 across plane
    add(boss_extrude3.mirror(Plane.XY))

    # Mirror1 at the second plane copy 1 sketc → Mirror1 at the second plane copy 1 (add)
    with BuildSketch(Plane(origin=(-27.313708499, 0, -27.313708499), x_dir=(-0.7071067811865475, 0, 0.7071067811865477), z_dir=(-0.7071067811865477, 0, -0.7071067811865475)).offset(MIRROR1_START)):
        with BuildLine():
            Line((-9, 2.5), (9, 2.5))
            ThreePointArc((9, 2.5), (13.25, 6.75), (9, 11))
            Line((9, 11), (-9, 11))
            ThreePointArc((-9, 11), (-13.25, 6.75), (-9, 2.5))
        make_face()
        with Locations((-9, 6.75)):
            Circle(MIRROR1_AT_THE_SECOND_PLANE_COPY_1_SKETC_R, mode=Mode.SUBTRACT)
        with Locations((9, 6.75)):
            Circle(MIRROR1_AT_THE_SECOND_PLANE_COPY_1_SKETC_R, mode=Mode.SUBTRACT)
    extrude(amount=-MIRROR1_AT_THE_SECOND_PLANE_COPY_1_DEPTH)


solid = part.part
